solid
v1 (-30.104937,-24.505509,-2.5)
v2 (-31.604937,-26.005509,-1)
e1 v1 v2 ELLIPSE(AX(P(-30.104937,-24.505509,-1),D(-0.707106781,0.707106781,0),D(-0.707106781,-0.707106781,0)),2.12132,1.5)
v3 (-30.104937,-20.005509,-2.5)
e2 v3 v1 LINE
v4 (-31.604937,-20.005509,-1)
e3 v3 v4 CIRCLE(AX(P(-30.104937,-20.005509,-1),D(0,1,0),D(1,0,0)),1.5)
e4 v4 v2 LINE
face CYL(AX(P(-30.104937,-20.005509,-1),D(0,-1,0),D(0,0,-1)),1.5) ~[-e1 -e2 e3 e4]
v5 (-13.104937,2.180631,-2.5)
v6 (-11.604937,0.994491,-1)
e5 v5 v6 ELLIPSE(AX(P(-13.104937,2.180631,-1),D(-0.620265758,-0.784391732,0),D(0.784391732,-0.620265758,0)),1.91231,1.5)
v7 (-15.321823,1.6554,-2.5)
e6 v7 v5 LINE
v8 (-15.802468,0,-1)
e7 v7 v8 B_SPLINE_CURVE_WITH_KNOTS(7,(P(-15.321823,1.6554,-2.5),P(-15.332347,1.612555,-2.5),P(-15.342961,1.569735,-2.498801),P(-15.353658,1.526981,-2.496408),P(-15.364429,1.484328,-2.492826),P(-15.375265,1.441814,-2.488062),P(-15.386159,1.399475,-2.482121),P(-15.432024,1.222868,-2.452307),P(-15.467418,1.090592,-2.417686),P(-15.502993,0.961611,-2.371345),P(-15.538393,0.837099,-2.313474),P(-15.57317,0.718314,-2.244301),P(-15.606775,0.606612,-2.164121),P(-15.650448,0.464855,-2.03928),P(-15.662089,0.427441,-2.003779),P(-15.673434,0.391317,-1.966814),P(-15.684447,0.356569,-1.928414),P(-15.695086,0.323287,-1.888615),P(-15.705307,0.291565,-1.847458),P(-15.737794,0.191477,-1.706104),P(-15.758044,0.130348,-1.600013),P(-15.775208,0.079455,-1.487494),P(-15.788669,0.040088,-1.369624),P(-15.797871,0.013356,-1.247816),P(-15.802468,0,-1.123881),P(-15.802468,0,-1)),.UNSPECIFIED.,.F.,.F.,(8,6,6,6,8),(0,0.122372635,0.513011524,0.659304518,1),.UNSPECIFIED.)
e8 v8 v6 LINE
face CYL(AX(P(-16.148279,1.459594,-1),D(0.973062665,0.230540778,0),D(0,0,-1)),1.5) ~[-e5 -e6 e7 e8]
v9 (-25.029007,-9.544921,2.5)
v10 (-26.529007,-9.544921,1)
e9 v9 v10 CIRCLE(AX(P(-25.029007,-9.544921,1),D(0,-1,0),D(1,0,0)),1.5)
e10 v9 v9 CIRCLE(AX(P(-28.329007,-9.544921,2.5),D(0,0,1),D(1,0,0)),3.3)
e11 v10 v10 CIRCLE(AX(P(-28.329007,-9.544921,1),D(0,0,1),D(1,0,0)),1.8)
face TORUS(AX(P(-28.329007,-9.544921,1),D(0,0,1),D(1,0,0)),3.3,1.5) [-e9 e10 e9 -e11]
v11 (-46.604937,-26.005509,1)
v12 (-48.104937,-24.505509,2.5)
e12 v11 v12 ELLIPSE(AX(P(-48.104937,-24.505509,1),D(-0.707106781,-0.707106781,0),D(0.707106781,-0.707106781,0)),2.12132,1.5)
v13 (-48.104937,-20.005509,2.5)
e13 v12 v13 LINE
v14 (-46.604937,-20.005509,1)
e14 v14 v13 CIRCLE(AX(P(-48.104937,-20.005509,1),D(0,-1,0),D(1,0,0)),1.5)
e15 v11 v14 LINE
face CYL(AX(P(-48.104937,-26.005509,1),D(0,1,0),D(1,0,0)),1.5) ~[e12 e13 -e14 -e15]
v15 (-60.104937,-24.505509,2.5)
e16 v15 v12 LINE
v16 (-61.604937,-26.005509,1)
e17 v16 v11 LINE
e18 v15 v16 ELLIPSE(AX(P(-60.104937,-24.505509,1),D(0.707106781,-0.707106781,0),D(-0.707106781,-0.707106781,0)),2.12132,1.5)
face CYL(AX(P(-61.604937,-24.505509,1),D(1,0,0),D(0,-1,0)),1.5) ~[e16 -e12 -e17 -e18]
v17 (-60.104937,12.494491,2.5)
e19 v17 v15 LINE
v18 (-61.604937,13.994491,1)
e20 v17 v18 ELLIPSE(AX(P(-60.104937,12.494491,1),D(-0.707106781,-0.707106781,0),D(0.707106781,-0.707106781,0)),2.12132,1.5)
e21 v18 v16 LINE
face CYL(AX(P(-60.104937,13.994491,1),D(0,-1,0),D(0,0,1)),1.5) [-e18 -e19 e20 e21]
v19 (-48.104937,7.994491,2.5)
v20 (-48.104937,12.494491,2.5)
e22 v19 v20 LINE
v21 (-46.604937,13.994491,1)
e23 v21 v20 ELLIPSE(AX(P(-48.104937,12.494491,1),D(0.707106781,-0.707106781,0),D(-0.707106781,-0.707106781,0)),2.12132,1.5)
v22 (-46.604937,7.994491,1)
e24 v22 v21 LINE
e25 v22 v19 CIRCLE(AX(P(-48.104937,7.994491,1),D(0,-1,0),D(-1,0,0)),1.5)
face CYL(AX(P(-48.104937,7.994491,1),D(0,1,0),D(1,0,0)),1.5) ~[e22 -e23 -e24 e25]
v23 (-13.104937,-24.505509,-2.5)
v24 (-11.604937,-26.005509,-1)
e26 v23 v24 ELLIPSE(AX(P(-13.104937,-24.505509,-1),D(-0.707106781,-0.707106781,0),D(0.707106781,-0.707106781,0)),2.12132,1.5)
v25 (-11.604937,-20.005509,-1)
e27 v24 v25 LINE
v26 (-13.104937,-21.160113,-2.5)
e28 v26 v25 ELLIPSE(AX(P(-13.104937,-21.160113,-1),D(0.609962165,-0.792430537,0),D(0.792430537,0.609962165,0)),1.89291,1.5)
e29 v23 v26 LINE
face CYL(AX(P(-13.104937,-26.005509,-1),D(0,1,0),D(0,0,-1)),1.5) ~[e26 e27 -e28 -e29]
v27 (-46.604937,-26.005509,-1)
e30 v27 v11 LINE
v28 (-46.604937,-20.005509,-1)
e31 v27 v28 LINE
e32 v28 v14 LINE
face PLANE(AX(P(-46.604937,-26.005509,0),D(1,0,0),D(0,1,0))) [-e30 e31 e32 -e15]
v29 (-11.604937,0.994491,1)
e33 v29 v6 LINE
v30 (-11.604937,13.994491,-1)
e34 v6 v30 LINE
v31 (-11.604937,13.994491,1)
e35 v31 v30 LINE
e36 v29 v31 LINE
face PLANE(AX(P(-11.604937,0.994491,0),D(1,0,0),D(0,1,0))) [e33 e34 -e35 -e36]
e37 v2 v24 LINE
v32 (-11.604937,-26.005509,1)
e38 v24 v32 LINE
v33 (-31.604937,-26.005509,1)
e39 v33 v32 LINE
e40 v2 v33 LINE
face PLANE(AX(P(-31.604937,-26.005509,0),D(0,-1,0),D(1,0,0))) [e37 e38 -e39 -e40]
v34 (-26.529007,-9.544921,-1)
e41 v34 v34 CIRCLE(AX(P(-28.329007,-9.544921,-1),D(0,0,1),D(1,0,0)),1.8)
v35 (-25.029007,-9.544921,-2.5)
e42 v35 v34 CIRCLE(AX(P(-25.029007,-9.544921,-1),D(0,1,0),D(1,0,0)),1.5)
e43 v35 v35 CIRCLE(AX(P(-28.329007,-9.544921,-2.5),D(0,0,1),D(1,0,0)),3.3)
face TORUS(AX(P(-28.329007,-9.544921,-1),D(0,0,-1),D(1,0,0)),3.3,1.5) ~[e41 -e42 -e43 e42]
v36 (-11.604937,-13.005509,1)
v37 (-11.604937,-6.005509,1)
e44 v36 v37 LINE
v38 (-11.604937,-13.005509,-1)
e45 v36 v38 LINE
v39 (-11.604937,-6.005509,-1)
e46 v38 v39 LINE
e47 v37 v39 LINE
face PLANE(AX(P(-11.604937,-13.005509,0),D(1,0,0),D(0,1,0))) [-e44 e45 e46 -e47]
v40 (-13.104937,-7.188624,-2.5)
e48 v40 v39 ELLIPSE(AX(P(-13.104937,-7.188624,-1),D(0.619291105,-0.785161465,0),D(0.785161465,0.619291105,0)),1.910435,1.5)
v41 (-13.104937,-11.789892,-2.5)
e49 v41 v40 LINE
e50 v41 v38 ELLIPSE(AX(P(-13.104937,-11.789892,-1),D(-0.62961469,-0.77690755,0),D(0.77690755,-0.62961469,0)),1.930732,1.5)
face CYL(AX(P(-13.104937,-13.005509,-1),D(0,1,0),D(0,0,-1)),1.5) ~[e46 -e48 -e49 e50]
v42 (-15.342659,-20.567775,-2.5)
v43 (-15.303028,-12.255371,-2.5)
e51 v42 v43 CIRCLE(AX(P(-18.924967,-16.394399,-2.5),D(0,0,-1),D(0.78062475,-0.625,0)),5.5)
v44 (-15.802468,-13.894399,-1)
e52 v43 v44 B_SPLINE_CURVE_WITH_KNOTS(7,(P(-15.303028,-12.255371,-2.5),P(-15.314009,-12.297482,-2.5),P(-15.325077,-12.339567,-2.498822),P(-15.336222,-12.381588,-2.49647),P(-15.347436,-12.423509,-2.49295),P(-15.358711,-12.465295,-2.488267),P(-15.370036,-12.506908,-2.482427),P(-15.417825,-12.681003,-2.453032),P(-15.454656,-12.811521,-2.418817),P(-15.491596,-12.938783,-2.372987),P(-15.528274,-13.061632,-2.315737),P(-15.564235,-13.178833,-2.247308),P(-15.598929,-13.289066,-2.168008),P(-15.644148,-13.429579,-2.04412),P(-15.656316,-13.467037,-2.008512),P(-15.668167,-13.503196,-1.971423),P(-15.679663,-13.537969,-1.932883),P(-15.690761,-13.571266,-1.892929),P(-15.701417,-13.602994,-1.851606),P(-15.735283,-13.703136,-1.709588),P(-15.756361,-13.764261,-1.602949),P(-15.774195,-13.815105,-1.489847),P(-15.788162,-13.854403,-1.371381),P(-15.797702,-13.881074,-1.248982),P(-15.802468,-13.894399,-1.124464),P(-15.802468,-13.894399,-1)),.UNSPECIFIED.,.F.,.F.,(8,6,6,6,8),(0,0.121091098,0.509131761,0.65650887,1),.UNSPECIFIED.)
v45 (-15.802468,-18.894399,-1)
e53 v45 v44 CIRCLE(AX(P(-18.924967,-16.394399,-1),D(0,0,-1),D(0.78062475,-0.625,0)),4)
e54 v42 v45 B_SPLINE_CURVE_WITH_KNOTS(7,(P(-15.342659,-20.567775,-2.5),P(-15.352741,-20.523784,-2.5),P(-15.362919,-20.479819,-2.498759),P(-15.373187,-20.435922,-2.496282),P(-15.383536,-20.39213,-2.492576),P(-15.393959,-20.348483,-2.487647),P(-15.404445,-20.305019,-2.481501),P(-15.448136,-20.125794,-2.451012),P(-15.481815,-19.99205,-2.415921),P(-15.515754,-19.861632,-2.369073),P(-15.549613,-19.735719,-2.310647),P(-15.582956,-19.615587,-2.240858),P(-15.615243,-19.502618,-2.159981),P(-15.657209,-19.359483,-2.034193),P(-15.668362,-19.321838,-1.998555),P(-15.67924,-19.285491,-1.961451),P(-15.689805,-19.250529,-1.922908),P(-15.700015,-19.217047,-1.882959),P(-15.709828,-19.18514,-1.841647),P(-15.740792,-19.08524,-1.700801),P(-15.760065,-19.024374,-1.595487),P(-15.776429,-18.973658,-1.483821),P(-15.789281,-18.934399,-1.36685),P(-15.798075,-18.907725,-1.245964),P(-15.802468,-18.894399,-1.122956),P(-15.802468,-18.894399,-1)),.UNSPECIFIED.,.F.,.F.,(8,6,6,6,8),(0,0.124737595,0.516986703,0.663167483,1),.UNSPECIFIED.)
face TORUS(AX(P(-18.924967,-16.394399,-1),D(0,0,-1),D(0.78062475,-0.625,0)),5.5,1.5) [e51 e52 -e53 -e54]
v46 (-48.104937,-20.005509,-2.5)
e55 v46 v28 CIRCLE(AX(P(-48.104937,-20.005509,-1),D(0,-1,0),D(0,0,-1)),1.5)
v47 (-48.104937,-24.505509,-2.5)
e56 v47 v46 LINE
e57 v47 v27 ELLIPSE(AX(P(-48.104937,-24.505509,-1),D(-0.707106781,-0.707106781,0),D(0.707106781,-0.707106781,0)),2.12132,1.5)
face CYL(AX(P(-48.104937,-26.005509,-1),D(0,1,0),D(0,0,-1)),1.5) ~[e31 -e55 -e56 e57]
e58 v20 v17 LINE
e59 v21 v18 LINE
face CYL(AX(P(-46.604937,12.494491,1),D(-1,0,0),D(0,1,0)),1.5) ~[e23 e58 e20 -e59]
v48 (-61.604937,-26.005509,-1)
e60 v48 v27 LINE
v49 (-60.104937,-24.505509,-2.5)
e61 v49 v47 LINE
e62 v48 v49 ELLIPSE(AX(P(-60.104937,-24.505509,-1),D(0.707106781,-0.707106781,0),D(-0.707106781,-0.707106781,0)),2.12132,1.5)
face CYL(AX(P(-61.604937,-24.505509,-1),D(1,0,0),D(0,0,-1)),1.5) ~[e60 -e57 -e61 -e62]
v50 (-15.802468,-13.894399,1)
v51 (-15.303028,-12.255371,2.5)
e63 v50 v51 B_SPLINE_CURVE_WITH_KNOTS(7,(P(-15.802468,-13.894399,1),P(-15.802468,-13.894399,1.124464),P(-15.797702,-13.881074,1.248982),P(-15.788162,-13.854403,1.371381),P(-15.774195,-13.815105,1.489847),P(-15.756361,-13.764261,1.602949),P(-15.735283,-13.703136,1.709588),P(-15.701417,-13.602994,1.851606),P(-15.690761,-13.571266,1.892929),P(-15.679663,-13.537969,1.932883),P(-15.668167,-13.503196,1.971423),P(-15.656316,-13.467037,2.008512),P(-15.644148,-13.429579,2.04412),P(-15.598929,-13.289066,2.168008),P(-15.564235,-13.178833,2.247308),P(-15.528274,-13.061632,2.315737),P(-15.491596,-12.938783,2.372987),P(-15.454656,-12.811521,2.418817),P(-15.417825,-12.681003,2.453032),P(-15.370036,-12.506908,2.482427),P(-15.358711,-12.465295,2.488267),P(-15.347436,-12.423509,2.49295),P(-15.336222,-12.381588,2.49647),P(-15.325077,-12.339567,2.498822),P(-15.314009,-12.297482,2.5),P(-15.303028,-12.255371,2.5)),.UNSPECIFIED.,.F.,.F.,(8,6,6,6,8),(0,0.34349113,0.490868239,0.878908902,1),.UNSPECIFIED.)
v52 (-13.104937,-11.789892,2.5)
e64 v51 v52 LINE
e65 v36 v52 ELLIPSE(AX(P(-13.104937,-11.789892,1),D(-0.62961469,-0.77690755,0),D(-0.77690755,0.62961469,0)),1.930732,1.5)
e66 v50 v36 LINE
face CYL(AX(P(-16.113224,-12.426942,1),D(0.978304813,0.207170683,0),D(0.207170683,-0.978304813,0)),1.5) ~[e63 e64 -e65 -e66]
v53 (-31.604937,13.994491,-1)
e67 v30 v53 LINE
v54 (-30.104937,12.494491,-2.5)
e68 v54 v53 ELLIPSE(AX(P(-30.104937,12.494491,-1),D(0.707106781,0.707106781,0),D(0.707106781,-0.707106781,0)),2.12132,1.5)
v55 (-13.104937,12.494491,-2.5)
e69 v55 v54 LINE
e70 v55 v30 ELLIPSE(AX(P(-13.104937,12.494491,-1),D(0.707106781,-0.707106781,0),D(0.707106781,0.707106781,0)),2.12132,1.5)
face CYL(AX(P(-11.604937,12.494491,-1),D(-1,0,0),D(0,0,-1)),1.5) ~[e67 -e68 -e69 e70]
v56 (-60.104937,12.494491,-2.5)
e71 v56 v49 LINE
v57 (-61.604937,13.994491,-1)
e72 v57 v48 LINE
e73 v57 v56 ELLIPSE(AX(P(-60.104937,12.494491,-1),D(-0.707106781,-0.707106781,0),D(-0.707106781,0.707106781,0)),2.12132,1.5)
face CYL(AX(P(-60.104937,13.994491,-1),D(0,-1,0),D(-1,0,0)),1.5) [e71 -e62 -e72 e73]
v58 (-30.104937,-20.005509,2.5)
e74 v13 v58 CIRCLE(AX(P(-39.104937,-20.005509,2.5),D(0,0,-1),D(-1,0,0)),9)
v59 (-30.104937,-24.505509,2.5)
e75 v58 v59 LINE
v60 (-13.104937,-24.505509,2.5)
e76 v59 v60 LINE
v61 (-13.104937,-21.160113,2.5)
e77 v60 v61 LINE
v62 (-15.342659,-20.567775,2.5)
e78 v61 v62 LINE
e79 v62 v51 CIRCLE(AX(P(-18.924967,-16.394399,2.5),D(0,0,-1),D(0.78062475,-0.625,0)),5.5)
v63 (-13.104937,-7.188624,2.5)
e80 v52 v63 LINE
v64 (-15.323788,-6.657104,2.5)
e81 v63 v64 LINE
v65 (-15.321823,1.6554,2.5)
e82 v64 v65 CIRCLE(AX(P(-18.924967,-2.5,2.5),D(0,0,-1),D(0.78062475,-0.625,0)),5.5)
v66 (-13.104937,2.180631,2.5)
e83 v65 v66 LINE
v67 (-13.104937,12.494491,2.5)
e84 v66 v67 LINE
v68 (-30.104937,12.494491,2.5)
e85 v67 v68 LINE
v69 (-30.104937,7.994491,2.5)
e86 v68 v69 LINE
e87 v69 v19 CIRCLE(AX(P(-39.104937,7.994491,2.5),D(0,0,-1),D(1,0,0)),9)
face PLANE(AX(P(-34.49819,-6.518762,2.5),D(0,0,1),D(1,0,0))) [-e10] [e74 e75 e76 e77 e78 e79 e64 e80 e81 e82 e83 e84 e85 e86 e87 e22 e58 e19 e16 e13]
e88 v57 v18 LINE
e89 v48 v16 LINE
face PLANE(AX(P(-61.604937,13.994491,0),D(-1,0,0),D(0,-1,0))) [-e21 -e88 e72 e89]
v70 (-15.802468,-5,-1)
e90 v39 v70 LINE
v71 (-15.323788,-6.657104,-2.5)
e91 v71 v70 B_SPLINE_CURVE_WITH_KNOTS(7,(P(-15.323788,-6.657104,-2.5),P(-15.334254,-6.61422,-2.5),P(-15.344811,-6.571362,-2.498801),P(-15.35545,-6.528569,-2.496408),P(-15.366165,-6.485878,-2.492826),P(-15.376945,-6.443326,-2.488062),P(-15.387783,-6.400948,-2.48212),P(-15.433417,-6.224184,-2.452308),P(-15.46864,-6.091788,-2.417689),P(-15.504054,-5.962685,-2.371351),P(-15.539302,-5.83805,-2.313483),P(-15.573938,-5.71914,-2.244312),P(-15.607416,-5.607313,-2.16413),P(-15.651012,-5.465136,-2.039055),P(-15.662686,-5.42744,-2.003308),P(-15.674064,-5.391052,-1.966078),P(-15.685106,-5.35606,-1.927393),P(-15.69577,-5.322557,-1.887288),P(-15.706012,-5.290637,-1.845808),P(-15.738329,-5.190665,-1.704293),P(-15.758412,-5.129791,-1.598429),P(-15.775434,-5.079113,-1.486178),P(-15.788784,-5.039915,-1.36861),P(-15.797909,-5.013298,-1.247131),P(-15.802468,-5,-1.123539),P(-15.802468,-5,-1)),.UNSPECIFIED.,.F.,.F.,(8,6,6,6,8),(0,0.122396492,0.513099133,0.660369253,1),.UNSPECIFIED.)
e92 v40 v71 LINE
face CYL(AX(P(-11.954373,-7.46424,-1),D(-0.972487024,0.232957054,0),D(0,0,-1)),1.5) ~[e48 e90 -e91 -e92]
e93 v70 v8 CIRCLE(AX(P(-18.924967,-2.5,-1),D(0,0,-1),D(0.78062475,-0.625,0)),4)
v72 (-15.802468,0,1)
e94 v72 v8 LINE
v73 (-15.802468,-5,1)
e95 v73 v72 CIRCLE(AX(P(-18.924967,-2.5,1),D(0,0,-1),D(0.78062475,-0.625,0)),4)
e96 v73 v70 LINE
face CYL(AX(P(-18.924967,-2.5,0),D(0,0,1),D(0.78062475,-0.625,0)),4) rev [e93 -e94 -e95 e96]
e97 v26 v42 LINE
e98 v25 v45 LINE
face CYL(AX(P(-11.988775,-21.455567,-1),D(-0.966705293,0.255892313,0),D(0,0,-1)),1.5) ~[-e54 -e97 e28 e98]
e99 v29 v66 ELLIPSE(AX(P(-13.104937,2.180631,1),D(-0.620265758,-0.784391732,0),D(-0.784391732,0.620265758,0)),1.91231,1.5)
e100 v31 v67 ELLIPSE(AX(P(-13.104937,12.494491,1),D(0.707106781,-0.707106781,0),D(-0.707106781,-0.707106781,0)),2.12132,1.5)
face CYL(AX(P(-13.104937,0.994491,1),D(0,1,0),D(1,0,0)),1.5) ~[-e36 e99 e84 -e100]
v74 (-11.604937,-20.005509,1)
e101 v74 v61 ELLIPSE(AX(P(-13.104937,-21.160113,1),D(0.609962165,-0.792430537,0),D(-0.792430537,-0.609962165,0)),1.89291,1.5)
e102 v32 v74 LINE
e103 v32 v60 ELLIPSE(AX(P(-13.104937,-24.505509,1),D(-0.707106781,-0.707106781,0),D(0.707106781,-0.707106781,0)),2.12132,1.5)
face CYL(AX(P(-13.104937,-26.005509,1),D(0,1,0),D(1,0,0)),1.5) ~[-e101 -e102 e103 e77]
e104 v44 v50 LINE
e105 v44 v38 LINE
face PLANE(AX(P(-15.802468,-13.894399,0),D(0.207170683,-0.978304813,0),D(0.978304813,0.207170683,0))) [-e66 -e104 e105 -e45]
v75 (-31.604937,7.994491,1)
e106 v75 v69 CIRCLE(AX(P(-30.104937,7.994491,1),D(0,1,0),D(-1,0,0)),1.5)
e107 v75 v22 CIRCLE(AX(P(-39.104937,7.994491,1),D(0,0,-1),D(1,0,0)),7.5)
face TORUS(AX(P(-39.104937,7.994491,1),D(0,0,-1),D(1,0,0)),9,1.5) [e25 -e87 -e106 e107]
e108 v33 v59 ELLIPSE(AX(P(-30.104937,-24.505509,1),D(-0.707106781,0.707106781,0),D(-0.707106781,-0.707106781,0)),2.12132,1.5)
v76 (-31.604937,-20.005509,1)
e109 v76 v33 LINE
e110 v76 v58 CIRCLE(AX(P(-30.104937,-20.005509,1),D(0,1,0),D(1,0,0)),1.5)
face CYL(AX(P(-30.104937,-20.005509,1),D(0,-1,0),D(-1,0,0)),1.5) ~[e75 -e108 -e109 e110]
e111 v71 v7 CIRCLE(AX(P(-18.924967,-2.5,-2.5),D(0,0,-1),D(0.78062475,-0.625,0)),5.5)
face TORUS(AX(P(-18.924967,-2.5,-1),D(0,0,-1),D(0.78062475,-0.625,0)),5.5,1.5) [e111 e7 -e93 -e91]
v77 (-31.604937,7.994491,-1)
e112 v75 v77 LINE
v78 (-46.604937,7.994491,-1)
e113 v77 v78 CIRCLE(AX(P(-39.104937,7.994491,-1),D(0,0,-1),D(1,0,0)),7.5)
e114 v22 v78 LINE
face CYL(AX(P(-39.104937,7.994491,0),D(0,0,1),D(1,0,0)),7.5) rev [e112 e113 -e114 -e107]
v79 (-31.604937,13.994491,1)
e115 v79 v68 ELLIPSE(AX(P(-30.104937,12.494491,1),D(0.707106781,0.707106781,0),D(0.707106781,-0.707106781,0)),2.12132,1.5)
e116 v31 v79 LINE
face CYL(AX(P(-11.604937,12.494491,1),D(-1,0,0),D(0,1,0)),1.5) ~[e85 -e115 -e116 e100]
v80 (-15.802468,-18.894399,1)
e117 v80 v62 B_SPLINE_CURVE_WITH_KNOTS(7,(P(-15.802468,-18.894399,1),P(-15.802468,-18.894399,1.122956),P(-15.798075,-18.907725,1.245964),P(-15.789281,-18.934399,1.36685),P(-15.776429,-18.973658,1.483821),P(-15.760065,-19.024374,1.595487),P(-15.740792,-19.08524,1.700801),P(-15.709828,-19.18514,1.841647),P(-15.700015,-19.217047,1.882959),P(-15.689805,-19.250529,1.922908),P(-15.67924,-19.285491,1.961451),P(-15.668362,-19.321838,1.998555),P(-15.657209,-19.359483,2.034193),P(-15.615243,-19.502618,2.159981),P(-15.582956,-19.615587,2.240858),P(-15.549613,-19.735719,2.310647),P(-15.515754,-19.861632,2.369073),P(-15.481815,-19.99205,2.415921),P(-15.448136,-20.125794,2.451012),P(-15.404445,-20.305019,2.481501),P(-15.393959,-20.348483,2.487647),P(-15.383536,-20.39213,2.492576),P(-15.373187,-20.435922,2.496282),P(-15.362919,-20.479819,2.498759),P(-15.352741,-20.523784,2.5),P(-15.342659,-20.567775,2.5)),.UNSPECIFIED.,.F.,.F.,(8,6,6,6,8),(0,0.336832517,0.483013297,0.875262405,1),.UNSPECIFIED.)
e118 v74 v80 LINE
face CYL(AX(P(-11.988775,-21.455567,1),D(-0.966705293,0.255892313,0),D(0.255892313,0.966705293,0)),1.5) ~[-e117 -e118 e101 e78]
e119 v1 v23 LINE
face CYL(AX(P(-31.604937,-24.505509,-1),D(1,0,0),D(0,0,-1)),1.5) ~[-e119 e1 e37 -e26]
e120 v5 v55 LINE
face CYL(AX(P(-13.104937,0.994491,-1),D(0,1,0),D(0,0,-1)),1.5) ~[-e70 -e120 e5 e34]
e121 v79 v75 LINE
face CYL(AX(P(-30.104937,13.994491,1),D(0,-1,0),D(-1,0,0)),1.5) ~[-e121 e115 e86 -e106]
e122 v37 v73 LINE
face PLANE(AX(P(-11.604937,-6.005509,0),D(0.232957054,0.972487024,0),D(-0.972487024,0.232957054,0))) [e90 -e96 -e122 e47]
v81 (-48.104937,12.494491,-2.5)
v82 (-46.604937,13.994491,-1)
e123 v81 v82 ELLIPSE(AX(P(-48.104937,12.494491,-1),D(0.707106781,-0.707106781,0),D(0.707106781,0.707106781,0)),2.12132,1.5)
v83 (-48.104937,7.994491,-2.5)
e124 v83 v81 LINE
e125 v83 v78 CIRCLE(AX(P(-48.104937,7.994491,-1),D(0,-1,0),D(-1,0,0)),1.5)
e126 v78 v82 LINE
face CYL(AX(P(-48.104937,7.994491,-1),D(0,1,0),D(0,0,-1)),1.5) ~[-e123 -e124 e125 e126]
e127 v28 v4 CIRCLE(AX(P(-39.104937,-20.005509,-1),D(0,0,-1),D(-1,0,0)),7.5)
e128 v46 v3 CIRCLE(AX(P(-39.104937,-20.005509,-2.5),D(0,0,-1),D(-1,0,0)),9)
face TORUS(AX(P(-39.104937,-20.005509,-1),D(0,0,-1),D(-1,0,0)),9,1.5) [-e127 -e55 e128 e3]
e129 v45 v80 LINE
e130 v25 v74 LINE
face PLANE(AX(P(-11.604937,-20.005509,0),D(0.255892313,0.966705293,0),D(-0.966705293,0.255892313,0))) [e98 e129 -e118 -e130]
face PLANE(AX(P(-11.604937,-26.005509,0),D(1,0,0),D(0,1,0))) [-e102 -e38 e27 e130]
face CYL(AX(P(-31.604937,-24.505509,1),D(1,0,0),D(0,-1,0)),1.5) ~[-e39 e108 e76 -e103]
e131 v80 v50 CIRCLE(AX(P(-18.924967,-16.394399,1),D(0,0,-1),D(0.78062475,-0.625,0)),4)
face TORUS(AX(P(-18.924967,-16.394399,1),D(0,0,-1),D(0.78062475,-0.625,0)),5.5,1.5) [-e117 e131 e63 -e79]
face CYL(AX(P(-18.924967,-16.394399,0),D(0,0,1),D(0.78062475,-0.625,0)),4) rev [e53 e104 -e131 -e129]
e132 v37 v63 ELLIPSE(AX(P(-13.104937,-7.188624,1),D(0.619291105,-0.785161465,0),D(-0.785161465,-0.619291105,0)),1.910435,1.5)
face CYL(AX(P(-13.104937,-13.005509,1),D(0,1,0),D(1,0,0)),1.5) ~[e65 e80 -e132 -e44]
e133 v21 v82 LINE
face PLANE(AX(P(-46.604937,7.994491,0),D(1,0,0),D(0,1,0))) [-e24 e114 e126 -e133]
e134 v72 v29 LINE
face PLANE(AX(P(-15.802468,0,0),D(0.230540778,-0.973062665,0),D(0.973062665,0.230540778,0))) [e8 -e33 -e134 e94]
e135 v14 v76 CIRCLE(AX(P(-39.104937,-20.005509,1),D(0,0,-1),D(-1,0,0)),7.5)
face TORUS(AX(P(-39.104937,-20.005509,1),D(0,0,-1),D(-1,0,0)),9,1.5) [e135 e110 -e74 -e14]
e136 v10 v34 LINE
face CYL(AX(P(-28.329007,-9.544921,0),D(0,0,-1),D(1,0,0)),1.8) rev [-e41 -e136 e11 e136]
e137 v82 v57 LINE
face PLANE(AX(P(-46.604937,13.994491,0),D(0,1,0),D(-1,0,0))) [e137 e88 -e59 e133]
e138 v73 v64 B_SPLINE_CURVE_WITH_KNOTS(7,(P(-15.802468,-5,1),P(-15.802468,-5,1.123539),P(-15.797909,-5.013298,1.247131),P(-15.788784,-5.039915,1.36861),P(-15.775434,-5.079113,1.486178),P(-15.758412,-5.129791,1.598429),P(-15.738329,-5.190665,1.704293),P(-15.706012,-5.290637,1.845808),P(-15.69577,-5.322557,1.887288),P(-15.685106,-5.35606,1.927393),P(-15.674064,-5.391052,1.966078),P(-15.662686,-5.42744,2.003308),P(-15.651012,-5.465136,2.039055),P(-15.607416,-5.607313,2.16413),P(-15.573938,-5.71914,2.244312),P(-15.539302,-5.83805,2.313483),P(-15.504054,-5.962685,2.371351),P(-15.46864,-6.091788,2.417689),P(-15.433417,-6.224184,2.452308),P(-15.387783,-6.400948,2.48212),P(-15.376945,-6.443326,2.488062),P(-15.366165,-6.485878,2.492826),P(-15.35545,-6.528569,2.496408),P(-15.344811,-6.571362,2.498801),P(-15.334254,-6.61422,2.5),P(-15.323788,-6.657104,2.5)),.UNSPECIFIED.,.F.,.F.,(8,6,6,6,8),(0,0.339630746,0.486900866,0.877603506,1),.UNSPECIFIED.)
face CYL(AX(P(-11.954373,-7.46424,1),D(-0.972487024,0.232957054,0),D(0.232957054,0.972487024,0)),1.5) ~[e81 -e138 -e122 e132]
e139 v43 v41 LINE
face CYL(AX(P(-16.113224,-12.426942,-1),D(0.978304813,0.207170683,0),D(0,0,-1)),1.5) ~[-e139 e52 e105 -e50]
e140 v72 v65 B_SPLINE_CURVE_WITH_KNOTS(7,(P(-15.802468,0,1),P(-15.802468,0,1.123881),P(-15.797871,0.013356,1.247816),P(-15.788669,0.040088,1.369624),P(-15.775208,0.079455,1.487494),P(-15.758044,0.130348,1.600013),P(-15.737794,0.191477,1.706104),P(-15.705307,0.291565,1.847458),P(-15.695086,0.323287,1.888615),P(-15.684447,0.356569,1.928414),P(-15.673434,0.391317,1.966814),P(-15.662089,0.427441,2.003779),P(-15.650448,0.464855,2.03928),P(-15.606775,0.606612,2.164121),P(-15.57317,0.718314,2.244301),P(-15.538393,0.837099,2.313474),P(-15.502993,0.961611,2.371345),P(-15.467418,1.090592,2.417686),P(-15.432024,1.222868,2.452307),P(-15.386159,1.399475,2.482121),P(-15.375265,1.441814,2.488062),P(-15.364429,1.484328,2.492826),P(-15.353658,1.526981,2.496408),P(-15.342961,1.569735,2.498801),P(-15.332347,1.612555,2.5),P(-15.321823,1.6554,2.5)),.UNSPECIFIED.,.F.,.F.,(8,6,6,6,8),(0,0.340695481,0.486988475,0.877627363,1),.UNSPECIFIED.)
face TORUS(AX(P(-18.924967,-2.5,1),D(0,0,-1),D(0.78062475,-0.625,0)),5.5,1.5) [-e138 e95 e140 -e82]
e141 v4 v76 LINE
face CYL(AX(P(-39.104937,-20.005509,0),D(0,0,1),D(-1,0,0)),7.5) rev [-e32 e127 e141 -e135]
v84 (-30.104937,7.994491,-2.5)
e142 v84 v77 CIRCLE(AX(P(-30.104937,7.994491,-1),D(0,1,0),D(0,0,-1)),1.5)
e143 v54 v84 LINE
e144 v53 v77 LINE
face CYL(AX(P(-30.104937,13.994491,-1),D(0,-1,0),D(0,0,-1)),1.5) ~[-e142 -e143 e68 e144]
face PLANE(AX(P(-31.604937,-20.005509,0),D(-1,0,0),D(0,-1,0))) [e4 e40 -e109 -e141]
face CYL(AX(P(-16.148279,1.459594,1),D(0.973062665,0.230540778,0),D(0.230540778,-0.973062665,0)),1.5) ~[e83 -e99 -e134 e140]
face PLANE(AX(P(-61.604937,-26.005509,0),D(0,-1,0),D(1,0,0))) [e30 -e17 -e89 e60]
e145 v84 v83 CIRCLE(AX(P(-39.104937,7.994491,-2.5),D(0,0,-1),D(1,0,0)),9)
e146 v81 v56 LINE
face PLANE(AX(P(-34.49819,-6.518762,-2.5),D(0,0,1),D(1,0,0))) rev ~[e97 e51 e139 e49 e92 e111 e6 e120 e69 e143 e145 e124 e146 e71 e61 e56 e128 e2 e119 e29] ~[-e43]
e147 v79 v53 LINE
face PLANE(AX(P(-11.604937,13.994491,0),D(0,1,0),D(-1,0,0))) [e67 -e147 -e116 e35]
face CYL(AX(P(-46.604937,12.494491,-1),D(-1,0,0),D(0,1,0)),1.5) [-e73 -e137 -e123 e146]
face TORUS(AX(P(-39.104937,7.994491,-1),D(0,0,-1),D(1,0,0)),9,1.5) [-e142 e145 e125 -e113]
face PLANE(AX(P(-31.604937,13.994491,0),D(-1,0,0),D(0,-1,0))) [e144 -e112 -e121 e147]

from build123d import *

# Parameters (mm, degrees)
F0_R     = 1.8
F1_DEPTH = 2.5
F2_R     = 1.5
F3_R     = 1.5


with BuildPart() as f1:
    # F0 (on Top) → F1 (new body, symmetric)
    with BuildSketch(Plane.XY):
        with BuildLine():
            Line((-46.604937, 13.994491), (-61.604937, 13.994491))
            Line((-61.604937, 13.994491), (-61.604937, -26.005509))
            Line((-61.604937, -26.005509), (-46.604937, -26.005509))
            Line((-46.604937, -26.005509), (-46.604937, -20.005509))
            ThreePointArc((-46.604937, -20.005509), (-39.104937, -12.505509), (-31.604937, -20.005509))
            Line((-31.604937, -20.005509), (-31.604937, -26.005509))
            Line((-31.604937, -26.005509), (-11.604937, -26.005509))
            Line((-11.604937, -26.005509), (-11.604937, -20.005509))
            Line((-11.604937, -20.005509), (-15.802468, -18.894399))
            ThreePointArc((-15.802468, -18.894399), (-22.924967, -16.394399), (-15.802468, -13.894399))
            Line((-15.802468, -13.894399), (-11.604937, -13.005509))
            Line((-11.604937, -13.005509), (-11.604937, -6.005509))
            Line((-11.604937, -6.005509), (-15.802468, -5))
            ThreePointArc((-15.802468, -5), (-22.924967, -2.5), (-15.802468, 0))
            Line((-15.802468, 0), (-11.604937, 0.994491))
            Line((-11.604937, 0.994491), (-11.604937, 13.994491))
            Line((-11.604937, 13.994491), (-31.604937, 13.994491))
            Line((-31.604937, 13.994491), (-31.604937, 7.994491))
            ThreePointArc((-31.604937, 7.994491), (-39.104937, 0.494491), (-46.604937, 7.994491))
            Line((-46.604937, 7.994491), (-46.604937, 13.994491))
        make_face()
        with Locations((-28.329007, -9.544921)):
            Circle(F0_R, mode=Mode.SUBTRACT)
    extrude(amount=F1_DEPTH, both=True)

    # F2
    f2_edges = [f1.edges().sort_by_distance(p)[0] for p in [
        (-61.604937, -6.005509, 2.5),
        (-54.104937, 13.994491, 2.5),
        (-39.104937, 0.494491, 2.5),
        (-21.604937, 13.994491, 2.5),
        (-11.604937, 7.494491, 2.5),
        (-13.703703, 0.497245, 2.5),
        (-22.924967, -2.5, 2.5),
        (-13.703703, -5.502755, 2.5),
        (-11.604937, -9.505509, 2.5),
        (-13.703703, -13.449954, 2.5),
        (-22.924967, -16.394399, 2.5),
        (-13.703703, -19.449954, 2.5),
        (-46.604937, 10.994491, 2.5),
        (-54.104937, -26.005509, 2.5),
        (-46.604937, -23.005509, 2.5),
        (-39.104937, -12.505509, 2.5),
        (-31.604937, -23.005509, 2.5),
        (-21.604937, -26.005509, 2.5),
        (-11.604937, -23.005509, 2.5),
        (-31.604937, 10.994491, 2.5),
        (-30.129007, -9.544921, 2.5),
    ]]
    fillet(f2_edges, radius=F2_R)

    # F3
    f3_edges = [f1.edges().sort_by_distance(p)[0] for p in [
        (-39.104937, 0.494491, -2.5),
        (-46.604937, 10.994491, -2.5),
        (-54.104937, 13.994491, -2.5),
        (-61.604937, -6.005509, -2.5),
        (-54.104937, -26.005509, -2.5),
        (-46.604937, -23.005509, -2.5),
        (-39.104937, -12.505509, -2.5),
        (-31.604937, -23.005509, -2.5),
        (-21.604937, -26.005509, -2.5),
        (-11.604937, -23.005509, -2.5),
        (-13.703703, -19.449954, -2.5),
        (-22.924967, -16.394399, -2.5),
        (-13.703703, -13.449954, -2.5),
        (-11.604937, -9.505509, -2.5),
        (-13.703703, -5.502755, -2.5),
        (-22.924967, -2.5, -2.5),
        (-13.703703, 0.497245, -2.5),
        (-11.604937, 7.494491, -2.5),
        (-21.604937, 13.994491, -2.5),
        (-31.604937, 10.994491, -2.5),
        (-30.129007, -9.544921, -2.5),
    ]]
    fillet(f3_edges, radius=F3_R)


solid = f1.part
